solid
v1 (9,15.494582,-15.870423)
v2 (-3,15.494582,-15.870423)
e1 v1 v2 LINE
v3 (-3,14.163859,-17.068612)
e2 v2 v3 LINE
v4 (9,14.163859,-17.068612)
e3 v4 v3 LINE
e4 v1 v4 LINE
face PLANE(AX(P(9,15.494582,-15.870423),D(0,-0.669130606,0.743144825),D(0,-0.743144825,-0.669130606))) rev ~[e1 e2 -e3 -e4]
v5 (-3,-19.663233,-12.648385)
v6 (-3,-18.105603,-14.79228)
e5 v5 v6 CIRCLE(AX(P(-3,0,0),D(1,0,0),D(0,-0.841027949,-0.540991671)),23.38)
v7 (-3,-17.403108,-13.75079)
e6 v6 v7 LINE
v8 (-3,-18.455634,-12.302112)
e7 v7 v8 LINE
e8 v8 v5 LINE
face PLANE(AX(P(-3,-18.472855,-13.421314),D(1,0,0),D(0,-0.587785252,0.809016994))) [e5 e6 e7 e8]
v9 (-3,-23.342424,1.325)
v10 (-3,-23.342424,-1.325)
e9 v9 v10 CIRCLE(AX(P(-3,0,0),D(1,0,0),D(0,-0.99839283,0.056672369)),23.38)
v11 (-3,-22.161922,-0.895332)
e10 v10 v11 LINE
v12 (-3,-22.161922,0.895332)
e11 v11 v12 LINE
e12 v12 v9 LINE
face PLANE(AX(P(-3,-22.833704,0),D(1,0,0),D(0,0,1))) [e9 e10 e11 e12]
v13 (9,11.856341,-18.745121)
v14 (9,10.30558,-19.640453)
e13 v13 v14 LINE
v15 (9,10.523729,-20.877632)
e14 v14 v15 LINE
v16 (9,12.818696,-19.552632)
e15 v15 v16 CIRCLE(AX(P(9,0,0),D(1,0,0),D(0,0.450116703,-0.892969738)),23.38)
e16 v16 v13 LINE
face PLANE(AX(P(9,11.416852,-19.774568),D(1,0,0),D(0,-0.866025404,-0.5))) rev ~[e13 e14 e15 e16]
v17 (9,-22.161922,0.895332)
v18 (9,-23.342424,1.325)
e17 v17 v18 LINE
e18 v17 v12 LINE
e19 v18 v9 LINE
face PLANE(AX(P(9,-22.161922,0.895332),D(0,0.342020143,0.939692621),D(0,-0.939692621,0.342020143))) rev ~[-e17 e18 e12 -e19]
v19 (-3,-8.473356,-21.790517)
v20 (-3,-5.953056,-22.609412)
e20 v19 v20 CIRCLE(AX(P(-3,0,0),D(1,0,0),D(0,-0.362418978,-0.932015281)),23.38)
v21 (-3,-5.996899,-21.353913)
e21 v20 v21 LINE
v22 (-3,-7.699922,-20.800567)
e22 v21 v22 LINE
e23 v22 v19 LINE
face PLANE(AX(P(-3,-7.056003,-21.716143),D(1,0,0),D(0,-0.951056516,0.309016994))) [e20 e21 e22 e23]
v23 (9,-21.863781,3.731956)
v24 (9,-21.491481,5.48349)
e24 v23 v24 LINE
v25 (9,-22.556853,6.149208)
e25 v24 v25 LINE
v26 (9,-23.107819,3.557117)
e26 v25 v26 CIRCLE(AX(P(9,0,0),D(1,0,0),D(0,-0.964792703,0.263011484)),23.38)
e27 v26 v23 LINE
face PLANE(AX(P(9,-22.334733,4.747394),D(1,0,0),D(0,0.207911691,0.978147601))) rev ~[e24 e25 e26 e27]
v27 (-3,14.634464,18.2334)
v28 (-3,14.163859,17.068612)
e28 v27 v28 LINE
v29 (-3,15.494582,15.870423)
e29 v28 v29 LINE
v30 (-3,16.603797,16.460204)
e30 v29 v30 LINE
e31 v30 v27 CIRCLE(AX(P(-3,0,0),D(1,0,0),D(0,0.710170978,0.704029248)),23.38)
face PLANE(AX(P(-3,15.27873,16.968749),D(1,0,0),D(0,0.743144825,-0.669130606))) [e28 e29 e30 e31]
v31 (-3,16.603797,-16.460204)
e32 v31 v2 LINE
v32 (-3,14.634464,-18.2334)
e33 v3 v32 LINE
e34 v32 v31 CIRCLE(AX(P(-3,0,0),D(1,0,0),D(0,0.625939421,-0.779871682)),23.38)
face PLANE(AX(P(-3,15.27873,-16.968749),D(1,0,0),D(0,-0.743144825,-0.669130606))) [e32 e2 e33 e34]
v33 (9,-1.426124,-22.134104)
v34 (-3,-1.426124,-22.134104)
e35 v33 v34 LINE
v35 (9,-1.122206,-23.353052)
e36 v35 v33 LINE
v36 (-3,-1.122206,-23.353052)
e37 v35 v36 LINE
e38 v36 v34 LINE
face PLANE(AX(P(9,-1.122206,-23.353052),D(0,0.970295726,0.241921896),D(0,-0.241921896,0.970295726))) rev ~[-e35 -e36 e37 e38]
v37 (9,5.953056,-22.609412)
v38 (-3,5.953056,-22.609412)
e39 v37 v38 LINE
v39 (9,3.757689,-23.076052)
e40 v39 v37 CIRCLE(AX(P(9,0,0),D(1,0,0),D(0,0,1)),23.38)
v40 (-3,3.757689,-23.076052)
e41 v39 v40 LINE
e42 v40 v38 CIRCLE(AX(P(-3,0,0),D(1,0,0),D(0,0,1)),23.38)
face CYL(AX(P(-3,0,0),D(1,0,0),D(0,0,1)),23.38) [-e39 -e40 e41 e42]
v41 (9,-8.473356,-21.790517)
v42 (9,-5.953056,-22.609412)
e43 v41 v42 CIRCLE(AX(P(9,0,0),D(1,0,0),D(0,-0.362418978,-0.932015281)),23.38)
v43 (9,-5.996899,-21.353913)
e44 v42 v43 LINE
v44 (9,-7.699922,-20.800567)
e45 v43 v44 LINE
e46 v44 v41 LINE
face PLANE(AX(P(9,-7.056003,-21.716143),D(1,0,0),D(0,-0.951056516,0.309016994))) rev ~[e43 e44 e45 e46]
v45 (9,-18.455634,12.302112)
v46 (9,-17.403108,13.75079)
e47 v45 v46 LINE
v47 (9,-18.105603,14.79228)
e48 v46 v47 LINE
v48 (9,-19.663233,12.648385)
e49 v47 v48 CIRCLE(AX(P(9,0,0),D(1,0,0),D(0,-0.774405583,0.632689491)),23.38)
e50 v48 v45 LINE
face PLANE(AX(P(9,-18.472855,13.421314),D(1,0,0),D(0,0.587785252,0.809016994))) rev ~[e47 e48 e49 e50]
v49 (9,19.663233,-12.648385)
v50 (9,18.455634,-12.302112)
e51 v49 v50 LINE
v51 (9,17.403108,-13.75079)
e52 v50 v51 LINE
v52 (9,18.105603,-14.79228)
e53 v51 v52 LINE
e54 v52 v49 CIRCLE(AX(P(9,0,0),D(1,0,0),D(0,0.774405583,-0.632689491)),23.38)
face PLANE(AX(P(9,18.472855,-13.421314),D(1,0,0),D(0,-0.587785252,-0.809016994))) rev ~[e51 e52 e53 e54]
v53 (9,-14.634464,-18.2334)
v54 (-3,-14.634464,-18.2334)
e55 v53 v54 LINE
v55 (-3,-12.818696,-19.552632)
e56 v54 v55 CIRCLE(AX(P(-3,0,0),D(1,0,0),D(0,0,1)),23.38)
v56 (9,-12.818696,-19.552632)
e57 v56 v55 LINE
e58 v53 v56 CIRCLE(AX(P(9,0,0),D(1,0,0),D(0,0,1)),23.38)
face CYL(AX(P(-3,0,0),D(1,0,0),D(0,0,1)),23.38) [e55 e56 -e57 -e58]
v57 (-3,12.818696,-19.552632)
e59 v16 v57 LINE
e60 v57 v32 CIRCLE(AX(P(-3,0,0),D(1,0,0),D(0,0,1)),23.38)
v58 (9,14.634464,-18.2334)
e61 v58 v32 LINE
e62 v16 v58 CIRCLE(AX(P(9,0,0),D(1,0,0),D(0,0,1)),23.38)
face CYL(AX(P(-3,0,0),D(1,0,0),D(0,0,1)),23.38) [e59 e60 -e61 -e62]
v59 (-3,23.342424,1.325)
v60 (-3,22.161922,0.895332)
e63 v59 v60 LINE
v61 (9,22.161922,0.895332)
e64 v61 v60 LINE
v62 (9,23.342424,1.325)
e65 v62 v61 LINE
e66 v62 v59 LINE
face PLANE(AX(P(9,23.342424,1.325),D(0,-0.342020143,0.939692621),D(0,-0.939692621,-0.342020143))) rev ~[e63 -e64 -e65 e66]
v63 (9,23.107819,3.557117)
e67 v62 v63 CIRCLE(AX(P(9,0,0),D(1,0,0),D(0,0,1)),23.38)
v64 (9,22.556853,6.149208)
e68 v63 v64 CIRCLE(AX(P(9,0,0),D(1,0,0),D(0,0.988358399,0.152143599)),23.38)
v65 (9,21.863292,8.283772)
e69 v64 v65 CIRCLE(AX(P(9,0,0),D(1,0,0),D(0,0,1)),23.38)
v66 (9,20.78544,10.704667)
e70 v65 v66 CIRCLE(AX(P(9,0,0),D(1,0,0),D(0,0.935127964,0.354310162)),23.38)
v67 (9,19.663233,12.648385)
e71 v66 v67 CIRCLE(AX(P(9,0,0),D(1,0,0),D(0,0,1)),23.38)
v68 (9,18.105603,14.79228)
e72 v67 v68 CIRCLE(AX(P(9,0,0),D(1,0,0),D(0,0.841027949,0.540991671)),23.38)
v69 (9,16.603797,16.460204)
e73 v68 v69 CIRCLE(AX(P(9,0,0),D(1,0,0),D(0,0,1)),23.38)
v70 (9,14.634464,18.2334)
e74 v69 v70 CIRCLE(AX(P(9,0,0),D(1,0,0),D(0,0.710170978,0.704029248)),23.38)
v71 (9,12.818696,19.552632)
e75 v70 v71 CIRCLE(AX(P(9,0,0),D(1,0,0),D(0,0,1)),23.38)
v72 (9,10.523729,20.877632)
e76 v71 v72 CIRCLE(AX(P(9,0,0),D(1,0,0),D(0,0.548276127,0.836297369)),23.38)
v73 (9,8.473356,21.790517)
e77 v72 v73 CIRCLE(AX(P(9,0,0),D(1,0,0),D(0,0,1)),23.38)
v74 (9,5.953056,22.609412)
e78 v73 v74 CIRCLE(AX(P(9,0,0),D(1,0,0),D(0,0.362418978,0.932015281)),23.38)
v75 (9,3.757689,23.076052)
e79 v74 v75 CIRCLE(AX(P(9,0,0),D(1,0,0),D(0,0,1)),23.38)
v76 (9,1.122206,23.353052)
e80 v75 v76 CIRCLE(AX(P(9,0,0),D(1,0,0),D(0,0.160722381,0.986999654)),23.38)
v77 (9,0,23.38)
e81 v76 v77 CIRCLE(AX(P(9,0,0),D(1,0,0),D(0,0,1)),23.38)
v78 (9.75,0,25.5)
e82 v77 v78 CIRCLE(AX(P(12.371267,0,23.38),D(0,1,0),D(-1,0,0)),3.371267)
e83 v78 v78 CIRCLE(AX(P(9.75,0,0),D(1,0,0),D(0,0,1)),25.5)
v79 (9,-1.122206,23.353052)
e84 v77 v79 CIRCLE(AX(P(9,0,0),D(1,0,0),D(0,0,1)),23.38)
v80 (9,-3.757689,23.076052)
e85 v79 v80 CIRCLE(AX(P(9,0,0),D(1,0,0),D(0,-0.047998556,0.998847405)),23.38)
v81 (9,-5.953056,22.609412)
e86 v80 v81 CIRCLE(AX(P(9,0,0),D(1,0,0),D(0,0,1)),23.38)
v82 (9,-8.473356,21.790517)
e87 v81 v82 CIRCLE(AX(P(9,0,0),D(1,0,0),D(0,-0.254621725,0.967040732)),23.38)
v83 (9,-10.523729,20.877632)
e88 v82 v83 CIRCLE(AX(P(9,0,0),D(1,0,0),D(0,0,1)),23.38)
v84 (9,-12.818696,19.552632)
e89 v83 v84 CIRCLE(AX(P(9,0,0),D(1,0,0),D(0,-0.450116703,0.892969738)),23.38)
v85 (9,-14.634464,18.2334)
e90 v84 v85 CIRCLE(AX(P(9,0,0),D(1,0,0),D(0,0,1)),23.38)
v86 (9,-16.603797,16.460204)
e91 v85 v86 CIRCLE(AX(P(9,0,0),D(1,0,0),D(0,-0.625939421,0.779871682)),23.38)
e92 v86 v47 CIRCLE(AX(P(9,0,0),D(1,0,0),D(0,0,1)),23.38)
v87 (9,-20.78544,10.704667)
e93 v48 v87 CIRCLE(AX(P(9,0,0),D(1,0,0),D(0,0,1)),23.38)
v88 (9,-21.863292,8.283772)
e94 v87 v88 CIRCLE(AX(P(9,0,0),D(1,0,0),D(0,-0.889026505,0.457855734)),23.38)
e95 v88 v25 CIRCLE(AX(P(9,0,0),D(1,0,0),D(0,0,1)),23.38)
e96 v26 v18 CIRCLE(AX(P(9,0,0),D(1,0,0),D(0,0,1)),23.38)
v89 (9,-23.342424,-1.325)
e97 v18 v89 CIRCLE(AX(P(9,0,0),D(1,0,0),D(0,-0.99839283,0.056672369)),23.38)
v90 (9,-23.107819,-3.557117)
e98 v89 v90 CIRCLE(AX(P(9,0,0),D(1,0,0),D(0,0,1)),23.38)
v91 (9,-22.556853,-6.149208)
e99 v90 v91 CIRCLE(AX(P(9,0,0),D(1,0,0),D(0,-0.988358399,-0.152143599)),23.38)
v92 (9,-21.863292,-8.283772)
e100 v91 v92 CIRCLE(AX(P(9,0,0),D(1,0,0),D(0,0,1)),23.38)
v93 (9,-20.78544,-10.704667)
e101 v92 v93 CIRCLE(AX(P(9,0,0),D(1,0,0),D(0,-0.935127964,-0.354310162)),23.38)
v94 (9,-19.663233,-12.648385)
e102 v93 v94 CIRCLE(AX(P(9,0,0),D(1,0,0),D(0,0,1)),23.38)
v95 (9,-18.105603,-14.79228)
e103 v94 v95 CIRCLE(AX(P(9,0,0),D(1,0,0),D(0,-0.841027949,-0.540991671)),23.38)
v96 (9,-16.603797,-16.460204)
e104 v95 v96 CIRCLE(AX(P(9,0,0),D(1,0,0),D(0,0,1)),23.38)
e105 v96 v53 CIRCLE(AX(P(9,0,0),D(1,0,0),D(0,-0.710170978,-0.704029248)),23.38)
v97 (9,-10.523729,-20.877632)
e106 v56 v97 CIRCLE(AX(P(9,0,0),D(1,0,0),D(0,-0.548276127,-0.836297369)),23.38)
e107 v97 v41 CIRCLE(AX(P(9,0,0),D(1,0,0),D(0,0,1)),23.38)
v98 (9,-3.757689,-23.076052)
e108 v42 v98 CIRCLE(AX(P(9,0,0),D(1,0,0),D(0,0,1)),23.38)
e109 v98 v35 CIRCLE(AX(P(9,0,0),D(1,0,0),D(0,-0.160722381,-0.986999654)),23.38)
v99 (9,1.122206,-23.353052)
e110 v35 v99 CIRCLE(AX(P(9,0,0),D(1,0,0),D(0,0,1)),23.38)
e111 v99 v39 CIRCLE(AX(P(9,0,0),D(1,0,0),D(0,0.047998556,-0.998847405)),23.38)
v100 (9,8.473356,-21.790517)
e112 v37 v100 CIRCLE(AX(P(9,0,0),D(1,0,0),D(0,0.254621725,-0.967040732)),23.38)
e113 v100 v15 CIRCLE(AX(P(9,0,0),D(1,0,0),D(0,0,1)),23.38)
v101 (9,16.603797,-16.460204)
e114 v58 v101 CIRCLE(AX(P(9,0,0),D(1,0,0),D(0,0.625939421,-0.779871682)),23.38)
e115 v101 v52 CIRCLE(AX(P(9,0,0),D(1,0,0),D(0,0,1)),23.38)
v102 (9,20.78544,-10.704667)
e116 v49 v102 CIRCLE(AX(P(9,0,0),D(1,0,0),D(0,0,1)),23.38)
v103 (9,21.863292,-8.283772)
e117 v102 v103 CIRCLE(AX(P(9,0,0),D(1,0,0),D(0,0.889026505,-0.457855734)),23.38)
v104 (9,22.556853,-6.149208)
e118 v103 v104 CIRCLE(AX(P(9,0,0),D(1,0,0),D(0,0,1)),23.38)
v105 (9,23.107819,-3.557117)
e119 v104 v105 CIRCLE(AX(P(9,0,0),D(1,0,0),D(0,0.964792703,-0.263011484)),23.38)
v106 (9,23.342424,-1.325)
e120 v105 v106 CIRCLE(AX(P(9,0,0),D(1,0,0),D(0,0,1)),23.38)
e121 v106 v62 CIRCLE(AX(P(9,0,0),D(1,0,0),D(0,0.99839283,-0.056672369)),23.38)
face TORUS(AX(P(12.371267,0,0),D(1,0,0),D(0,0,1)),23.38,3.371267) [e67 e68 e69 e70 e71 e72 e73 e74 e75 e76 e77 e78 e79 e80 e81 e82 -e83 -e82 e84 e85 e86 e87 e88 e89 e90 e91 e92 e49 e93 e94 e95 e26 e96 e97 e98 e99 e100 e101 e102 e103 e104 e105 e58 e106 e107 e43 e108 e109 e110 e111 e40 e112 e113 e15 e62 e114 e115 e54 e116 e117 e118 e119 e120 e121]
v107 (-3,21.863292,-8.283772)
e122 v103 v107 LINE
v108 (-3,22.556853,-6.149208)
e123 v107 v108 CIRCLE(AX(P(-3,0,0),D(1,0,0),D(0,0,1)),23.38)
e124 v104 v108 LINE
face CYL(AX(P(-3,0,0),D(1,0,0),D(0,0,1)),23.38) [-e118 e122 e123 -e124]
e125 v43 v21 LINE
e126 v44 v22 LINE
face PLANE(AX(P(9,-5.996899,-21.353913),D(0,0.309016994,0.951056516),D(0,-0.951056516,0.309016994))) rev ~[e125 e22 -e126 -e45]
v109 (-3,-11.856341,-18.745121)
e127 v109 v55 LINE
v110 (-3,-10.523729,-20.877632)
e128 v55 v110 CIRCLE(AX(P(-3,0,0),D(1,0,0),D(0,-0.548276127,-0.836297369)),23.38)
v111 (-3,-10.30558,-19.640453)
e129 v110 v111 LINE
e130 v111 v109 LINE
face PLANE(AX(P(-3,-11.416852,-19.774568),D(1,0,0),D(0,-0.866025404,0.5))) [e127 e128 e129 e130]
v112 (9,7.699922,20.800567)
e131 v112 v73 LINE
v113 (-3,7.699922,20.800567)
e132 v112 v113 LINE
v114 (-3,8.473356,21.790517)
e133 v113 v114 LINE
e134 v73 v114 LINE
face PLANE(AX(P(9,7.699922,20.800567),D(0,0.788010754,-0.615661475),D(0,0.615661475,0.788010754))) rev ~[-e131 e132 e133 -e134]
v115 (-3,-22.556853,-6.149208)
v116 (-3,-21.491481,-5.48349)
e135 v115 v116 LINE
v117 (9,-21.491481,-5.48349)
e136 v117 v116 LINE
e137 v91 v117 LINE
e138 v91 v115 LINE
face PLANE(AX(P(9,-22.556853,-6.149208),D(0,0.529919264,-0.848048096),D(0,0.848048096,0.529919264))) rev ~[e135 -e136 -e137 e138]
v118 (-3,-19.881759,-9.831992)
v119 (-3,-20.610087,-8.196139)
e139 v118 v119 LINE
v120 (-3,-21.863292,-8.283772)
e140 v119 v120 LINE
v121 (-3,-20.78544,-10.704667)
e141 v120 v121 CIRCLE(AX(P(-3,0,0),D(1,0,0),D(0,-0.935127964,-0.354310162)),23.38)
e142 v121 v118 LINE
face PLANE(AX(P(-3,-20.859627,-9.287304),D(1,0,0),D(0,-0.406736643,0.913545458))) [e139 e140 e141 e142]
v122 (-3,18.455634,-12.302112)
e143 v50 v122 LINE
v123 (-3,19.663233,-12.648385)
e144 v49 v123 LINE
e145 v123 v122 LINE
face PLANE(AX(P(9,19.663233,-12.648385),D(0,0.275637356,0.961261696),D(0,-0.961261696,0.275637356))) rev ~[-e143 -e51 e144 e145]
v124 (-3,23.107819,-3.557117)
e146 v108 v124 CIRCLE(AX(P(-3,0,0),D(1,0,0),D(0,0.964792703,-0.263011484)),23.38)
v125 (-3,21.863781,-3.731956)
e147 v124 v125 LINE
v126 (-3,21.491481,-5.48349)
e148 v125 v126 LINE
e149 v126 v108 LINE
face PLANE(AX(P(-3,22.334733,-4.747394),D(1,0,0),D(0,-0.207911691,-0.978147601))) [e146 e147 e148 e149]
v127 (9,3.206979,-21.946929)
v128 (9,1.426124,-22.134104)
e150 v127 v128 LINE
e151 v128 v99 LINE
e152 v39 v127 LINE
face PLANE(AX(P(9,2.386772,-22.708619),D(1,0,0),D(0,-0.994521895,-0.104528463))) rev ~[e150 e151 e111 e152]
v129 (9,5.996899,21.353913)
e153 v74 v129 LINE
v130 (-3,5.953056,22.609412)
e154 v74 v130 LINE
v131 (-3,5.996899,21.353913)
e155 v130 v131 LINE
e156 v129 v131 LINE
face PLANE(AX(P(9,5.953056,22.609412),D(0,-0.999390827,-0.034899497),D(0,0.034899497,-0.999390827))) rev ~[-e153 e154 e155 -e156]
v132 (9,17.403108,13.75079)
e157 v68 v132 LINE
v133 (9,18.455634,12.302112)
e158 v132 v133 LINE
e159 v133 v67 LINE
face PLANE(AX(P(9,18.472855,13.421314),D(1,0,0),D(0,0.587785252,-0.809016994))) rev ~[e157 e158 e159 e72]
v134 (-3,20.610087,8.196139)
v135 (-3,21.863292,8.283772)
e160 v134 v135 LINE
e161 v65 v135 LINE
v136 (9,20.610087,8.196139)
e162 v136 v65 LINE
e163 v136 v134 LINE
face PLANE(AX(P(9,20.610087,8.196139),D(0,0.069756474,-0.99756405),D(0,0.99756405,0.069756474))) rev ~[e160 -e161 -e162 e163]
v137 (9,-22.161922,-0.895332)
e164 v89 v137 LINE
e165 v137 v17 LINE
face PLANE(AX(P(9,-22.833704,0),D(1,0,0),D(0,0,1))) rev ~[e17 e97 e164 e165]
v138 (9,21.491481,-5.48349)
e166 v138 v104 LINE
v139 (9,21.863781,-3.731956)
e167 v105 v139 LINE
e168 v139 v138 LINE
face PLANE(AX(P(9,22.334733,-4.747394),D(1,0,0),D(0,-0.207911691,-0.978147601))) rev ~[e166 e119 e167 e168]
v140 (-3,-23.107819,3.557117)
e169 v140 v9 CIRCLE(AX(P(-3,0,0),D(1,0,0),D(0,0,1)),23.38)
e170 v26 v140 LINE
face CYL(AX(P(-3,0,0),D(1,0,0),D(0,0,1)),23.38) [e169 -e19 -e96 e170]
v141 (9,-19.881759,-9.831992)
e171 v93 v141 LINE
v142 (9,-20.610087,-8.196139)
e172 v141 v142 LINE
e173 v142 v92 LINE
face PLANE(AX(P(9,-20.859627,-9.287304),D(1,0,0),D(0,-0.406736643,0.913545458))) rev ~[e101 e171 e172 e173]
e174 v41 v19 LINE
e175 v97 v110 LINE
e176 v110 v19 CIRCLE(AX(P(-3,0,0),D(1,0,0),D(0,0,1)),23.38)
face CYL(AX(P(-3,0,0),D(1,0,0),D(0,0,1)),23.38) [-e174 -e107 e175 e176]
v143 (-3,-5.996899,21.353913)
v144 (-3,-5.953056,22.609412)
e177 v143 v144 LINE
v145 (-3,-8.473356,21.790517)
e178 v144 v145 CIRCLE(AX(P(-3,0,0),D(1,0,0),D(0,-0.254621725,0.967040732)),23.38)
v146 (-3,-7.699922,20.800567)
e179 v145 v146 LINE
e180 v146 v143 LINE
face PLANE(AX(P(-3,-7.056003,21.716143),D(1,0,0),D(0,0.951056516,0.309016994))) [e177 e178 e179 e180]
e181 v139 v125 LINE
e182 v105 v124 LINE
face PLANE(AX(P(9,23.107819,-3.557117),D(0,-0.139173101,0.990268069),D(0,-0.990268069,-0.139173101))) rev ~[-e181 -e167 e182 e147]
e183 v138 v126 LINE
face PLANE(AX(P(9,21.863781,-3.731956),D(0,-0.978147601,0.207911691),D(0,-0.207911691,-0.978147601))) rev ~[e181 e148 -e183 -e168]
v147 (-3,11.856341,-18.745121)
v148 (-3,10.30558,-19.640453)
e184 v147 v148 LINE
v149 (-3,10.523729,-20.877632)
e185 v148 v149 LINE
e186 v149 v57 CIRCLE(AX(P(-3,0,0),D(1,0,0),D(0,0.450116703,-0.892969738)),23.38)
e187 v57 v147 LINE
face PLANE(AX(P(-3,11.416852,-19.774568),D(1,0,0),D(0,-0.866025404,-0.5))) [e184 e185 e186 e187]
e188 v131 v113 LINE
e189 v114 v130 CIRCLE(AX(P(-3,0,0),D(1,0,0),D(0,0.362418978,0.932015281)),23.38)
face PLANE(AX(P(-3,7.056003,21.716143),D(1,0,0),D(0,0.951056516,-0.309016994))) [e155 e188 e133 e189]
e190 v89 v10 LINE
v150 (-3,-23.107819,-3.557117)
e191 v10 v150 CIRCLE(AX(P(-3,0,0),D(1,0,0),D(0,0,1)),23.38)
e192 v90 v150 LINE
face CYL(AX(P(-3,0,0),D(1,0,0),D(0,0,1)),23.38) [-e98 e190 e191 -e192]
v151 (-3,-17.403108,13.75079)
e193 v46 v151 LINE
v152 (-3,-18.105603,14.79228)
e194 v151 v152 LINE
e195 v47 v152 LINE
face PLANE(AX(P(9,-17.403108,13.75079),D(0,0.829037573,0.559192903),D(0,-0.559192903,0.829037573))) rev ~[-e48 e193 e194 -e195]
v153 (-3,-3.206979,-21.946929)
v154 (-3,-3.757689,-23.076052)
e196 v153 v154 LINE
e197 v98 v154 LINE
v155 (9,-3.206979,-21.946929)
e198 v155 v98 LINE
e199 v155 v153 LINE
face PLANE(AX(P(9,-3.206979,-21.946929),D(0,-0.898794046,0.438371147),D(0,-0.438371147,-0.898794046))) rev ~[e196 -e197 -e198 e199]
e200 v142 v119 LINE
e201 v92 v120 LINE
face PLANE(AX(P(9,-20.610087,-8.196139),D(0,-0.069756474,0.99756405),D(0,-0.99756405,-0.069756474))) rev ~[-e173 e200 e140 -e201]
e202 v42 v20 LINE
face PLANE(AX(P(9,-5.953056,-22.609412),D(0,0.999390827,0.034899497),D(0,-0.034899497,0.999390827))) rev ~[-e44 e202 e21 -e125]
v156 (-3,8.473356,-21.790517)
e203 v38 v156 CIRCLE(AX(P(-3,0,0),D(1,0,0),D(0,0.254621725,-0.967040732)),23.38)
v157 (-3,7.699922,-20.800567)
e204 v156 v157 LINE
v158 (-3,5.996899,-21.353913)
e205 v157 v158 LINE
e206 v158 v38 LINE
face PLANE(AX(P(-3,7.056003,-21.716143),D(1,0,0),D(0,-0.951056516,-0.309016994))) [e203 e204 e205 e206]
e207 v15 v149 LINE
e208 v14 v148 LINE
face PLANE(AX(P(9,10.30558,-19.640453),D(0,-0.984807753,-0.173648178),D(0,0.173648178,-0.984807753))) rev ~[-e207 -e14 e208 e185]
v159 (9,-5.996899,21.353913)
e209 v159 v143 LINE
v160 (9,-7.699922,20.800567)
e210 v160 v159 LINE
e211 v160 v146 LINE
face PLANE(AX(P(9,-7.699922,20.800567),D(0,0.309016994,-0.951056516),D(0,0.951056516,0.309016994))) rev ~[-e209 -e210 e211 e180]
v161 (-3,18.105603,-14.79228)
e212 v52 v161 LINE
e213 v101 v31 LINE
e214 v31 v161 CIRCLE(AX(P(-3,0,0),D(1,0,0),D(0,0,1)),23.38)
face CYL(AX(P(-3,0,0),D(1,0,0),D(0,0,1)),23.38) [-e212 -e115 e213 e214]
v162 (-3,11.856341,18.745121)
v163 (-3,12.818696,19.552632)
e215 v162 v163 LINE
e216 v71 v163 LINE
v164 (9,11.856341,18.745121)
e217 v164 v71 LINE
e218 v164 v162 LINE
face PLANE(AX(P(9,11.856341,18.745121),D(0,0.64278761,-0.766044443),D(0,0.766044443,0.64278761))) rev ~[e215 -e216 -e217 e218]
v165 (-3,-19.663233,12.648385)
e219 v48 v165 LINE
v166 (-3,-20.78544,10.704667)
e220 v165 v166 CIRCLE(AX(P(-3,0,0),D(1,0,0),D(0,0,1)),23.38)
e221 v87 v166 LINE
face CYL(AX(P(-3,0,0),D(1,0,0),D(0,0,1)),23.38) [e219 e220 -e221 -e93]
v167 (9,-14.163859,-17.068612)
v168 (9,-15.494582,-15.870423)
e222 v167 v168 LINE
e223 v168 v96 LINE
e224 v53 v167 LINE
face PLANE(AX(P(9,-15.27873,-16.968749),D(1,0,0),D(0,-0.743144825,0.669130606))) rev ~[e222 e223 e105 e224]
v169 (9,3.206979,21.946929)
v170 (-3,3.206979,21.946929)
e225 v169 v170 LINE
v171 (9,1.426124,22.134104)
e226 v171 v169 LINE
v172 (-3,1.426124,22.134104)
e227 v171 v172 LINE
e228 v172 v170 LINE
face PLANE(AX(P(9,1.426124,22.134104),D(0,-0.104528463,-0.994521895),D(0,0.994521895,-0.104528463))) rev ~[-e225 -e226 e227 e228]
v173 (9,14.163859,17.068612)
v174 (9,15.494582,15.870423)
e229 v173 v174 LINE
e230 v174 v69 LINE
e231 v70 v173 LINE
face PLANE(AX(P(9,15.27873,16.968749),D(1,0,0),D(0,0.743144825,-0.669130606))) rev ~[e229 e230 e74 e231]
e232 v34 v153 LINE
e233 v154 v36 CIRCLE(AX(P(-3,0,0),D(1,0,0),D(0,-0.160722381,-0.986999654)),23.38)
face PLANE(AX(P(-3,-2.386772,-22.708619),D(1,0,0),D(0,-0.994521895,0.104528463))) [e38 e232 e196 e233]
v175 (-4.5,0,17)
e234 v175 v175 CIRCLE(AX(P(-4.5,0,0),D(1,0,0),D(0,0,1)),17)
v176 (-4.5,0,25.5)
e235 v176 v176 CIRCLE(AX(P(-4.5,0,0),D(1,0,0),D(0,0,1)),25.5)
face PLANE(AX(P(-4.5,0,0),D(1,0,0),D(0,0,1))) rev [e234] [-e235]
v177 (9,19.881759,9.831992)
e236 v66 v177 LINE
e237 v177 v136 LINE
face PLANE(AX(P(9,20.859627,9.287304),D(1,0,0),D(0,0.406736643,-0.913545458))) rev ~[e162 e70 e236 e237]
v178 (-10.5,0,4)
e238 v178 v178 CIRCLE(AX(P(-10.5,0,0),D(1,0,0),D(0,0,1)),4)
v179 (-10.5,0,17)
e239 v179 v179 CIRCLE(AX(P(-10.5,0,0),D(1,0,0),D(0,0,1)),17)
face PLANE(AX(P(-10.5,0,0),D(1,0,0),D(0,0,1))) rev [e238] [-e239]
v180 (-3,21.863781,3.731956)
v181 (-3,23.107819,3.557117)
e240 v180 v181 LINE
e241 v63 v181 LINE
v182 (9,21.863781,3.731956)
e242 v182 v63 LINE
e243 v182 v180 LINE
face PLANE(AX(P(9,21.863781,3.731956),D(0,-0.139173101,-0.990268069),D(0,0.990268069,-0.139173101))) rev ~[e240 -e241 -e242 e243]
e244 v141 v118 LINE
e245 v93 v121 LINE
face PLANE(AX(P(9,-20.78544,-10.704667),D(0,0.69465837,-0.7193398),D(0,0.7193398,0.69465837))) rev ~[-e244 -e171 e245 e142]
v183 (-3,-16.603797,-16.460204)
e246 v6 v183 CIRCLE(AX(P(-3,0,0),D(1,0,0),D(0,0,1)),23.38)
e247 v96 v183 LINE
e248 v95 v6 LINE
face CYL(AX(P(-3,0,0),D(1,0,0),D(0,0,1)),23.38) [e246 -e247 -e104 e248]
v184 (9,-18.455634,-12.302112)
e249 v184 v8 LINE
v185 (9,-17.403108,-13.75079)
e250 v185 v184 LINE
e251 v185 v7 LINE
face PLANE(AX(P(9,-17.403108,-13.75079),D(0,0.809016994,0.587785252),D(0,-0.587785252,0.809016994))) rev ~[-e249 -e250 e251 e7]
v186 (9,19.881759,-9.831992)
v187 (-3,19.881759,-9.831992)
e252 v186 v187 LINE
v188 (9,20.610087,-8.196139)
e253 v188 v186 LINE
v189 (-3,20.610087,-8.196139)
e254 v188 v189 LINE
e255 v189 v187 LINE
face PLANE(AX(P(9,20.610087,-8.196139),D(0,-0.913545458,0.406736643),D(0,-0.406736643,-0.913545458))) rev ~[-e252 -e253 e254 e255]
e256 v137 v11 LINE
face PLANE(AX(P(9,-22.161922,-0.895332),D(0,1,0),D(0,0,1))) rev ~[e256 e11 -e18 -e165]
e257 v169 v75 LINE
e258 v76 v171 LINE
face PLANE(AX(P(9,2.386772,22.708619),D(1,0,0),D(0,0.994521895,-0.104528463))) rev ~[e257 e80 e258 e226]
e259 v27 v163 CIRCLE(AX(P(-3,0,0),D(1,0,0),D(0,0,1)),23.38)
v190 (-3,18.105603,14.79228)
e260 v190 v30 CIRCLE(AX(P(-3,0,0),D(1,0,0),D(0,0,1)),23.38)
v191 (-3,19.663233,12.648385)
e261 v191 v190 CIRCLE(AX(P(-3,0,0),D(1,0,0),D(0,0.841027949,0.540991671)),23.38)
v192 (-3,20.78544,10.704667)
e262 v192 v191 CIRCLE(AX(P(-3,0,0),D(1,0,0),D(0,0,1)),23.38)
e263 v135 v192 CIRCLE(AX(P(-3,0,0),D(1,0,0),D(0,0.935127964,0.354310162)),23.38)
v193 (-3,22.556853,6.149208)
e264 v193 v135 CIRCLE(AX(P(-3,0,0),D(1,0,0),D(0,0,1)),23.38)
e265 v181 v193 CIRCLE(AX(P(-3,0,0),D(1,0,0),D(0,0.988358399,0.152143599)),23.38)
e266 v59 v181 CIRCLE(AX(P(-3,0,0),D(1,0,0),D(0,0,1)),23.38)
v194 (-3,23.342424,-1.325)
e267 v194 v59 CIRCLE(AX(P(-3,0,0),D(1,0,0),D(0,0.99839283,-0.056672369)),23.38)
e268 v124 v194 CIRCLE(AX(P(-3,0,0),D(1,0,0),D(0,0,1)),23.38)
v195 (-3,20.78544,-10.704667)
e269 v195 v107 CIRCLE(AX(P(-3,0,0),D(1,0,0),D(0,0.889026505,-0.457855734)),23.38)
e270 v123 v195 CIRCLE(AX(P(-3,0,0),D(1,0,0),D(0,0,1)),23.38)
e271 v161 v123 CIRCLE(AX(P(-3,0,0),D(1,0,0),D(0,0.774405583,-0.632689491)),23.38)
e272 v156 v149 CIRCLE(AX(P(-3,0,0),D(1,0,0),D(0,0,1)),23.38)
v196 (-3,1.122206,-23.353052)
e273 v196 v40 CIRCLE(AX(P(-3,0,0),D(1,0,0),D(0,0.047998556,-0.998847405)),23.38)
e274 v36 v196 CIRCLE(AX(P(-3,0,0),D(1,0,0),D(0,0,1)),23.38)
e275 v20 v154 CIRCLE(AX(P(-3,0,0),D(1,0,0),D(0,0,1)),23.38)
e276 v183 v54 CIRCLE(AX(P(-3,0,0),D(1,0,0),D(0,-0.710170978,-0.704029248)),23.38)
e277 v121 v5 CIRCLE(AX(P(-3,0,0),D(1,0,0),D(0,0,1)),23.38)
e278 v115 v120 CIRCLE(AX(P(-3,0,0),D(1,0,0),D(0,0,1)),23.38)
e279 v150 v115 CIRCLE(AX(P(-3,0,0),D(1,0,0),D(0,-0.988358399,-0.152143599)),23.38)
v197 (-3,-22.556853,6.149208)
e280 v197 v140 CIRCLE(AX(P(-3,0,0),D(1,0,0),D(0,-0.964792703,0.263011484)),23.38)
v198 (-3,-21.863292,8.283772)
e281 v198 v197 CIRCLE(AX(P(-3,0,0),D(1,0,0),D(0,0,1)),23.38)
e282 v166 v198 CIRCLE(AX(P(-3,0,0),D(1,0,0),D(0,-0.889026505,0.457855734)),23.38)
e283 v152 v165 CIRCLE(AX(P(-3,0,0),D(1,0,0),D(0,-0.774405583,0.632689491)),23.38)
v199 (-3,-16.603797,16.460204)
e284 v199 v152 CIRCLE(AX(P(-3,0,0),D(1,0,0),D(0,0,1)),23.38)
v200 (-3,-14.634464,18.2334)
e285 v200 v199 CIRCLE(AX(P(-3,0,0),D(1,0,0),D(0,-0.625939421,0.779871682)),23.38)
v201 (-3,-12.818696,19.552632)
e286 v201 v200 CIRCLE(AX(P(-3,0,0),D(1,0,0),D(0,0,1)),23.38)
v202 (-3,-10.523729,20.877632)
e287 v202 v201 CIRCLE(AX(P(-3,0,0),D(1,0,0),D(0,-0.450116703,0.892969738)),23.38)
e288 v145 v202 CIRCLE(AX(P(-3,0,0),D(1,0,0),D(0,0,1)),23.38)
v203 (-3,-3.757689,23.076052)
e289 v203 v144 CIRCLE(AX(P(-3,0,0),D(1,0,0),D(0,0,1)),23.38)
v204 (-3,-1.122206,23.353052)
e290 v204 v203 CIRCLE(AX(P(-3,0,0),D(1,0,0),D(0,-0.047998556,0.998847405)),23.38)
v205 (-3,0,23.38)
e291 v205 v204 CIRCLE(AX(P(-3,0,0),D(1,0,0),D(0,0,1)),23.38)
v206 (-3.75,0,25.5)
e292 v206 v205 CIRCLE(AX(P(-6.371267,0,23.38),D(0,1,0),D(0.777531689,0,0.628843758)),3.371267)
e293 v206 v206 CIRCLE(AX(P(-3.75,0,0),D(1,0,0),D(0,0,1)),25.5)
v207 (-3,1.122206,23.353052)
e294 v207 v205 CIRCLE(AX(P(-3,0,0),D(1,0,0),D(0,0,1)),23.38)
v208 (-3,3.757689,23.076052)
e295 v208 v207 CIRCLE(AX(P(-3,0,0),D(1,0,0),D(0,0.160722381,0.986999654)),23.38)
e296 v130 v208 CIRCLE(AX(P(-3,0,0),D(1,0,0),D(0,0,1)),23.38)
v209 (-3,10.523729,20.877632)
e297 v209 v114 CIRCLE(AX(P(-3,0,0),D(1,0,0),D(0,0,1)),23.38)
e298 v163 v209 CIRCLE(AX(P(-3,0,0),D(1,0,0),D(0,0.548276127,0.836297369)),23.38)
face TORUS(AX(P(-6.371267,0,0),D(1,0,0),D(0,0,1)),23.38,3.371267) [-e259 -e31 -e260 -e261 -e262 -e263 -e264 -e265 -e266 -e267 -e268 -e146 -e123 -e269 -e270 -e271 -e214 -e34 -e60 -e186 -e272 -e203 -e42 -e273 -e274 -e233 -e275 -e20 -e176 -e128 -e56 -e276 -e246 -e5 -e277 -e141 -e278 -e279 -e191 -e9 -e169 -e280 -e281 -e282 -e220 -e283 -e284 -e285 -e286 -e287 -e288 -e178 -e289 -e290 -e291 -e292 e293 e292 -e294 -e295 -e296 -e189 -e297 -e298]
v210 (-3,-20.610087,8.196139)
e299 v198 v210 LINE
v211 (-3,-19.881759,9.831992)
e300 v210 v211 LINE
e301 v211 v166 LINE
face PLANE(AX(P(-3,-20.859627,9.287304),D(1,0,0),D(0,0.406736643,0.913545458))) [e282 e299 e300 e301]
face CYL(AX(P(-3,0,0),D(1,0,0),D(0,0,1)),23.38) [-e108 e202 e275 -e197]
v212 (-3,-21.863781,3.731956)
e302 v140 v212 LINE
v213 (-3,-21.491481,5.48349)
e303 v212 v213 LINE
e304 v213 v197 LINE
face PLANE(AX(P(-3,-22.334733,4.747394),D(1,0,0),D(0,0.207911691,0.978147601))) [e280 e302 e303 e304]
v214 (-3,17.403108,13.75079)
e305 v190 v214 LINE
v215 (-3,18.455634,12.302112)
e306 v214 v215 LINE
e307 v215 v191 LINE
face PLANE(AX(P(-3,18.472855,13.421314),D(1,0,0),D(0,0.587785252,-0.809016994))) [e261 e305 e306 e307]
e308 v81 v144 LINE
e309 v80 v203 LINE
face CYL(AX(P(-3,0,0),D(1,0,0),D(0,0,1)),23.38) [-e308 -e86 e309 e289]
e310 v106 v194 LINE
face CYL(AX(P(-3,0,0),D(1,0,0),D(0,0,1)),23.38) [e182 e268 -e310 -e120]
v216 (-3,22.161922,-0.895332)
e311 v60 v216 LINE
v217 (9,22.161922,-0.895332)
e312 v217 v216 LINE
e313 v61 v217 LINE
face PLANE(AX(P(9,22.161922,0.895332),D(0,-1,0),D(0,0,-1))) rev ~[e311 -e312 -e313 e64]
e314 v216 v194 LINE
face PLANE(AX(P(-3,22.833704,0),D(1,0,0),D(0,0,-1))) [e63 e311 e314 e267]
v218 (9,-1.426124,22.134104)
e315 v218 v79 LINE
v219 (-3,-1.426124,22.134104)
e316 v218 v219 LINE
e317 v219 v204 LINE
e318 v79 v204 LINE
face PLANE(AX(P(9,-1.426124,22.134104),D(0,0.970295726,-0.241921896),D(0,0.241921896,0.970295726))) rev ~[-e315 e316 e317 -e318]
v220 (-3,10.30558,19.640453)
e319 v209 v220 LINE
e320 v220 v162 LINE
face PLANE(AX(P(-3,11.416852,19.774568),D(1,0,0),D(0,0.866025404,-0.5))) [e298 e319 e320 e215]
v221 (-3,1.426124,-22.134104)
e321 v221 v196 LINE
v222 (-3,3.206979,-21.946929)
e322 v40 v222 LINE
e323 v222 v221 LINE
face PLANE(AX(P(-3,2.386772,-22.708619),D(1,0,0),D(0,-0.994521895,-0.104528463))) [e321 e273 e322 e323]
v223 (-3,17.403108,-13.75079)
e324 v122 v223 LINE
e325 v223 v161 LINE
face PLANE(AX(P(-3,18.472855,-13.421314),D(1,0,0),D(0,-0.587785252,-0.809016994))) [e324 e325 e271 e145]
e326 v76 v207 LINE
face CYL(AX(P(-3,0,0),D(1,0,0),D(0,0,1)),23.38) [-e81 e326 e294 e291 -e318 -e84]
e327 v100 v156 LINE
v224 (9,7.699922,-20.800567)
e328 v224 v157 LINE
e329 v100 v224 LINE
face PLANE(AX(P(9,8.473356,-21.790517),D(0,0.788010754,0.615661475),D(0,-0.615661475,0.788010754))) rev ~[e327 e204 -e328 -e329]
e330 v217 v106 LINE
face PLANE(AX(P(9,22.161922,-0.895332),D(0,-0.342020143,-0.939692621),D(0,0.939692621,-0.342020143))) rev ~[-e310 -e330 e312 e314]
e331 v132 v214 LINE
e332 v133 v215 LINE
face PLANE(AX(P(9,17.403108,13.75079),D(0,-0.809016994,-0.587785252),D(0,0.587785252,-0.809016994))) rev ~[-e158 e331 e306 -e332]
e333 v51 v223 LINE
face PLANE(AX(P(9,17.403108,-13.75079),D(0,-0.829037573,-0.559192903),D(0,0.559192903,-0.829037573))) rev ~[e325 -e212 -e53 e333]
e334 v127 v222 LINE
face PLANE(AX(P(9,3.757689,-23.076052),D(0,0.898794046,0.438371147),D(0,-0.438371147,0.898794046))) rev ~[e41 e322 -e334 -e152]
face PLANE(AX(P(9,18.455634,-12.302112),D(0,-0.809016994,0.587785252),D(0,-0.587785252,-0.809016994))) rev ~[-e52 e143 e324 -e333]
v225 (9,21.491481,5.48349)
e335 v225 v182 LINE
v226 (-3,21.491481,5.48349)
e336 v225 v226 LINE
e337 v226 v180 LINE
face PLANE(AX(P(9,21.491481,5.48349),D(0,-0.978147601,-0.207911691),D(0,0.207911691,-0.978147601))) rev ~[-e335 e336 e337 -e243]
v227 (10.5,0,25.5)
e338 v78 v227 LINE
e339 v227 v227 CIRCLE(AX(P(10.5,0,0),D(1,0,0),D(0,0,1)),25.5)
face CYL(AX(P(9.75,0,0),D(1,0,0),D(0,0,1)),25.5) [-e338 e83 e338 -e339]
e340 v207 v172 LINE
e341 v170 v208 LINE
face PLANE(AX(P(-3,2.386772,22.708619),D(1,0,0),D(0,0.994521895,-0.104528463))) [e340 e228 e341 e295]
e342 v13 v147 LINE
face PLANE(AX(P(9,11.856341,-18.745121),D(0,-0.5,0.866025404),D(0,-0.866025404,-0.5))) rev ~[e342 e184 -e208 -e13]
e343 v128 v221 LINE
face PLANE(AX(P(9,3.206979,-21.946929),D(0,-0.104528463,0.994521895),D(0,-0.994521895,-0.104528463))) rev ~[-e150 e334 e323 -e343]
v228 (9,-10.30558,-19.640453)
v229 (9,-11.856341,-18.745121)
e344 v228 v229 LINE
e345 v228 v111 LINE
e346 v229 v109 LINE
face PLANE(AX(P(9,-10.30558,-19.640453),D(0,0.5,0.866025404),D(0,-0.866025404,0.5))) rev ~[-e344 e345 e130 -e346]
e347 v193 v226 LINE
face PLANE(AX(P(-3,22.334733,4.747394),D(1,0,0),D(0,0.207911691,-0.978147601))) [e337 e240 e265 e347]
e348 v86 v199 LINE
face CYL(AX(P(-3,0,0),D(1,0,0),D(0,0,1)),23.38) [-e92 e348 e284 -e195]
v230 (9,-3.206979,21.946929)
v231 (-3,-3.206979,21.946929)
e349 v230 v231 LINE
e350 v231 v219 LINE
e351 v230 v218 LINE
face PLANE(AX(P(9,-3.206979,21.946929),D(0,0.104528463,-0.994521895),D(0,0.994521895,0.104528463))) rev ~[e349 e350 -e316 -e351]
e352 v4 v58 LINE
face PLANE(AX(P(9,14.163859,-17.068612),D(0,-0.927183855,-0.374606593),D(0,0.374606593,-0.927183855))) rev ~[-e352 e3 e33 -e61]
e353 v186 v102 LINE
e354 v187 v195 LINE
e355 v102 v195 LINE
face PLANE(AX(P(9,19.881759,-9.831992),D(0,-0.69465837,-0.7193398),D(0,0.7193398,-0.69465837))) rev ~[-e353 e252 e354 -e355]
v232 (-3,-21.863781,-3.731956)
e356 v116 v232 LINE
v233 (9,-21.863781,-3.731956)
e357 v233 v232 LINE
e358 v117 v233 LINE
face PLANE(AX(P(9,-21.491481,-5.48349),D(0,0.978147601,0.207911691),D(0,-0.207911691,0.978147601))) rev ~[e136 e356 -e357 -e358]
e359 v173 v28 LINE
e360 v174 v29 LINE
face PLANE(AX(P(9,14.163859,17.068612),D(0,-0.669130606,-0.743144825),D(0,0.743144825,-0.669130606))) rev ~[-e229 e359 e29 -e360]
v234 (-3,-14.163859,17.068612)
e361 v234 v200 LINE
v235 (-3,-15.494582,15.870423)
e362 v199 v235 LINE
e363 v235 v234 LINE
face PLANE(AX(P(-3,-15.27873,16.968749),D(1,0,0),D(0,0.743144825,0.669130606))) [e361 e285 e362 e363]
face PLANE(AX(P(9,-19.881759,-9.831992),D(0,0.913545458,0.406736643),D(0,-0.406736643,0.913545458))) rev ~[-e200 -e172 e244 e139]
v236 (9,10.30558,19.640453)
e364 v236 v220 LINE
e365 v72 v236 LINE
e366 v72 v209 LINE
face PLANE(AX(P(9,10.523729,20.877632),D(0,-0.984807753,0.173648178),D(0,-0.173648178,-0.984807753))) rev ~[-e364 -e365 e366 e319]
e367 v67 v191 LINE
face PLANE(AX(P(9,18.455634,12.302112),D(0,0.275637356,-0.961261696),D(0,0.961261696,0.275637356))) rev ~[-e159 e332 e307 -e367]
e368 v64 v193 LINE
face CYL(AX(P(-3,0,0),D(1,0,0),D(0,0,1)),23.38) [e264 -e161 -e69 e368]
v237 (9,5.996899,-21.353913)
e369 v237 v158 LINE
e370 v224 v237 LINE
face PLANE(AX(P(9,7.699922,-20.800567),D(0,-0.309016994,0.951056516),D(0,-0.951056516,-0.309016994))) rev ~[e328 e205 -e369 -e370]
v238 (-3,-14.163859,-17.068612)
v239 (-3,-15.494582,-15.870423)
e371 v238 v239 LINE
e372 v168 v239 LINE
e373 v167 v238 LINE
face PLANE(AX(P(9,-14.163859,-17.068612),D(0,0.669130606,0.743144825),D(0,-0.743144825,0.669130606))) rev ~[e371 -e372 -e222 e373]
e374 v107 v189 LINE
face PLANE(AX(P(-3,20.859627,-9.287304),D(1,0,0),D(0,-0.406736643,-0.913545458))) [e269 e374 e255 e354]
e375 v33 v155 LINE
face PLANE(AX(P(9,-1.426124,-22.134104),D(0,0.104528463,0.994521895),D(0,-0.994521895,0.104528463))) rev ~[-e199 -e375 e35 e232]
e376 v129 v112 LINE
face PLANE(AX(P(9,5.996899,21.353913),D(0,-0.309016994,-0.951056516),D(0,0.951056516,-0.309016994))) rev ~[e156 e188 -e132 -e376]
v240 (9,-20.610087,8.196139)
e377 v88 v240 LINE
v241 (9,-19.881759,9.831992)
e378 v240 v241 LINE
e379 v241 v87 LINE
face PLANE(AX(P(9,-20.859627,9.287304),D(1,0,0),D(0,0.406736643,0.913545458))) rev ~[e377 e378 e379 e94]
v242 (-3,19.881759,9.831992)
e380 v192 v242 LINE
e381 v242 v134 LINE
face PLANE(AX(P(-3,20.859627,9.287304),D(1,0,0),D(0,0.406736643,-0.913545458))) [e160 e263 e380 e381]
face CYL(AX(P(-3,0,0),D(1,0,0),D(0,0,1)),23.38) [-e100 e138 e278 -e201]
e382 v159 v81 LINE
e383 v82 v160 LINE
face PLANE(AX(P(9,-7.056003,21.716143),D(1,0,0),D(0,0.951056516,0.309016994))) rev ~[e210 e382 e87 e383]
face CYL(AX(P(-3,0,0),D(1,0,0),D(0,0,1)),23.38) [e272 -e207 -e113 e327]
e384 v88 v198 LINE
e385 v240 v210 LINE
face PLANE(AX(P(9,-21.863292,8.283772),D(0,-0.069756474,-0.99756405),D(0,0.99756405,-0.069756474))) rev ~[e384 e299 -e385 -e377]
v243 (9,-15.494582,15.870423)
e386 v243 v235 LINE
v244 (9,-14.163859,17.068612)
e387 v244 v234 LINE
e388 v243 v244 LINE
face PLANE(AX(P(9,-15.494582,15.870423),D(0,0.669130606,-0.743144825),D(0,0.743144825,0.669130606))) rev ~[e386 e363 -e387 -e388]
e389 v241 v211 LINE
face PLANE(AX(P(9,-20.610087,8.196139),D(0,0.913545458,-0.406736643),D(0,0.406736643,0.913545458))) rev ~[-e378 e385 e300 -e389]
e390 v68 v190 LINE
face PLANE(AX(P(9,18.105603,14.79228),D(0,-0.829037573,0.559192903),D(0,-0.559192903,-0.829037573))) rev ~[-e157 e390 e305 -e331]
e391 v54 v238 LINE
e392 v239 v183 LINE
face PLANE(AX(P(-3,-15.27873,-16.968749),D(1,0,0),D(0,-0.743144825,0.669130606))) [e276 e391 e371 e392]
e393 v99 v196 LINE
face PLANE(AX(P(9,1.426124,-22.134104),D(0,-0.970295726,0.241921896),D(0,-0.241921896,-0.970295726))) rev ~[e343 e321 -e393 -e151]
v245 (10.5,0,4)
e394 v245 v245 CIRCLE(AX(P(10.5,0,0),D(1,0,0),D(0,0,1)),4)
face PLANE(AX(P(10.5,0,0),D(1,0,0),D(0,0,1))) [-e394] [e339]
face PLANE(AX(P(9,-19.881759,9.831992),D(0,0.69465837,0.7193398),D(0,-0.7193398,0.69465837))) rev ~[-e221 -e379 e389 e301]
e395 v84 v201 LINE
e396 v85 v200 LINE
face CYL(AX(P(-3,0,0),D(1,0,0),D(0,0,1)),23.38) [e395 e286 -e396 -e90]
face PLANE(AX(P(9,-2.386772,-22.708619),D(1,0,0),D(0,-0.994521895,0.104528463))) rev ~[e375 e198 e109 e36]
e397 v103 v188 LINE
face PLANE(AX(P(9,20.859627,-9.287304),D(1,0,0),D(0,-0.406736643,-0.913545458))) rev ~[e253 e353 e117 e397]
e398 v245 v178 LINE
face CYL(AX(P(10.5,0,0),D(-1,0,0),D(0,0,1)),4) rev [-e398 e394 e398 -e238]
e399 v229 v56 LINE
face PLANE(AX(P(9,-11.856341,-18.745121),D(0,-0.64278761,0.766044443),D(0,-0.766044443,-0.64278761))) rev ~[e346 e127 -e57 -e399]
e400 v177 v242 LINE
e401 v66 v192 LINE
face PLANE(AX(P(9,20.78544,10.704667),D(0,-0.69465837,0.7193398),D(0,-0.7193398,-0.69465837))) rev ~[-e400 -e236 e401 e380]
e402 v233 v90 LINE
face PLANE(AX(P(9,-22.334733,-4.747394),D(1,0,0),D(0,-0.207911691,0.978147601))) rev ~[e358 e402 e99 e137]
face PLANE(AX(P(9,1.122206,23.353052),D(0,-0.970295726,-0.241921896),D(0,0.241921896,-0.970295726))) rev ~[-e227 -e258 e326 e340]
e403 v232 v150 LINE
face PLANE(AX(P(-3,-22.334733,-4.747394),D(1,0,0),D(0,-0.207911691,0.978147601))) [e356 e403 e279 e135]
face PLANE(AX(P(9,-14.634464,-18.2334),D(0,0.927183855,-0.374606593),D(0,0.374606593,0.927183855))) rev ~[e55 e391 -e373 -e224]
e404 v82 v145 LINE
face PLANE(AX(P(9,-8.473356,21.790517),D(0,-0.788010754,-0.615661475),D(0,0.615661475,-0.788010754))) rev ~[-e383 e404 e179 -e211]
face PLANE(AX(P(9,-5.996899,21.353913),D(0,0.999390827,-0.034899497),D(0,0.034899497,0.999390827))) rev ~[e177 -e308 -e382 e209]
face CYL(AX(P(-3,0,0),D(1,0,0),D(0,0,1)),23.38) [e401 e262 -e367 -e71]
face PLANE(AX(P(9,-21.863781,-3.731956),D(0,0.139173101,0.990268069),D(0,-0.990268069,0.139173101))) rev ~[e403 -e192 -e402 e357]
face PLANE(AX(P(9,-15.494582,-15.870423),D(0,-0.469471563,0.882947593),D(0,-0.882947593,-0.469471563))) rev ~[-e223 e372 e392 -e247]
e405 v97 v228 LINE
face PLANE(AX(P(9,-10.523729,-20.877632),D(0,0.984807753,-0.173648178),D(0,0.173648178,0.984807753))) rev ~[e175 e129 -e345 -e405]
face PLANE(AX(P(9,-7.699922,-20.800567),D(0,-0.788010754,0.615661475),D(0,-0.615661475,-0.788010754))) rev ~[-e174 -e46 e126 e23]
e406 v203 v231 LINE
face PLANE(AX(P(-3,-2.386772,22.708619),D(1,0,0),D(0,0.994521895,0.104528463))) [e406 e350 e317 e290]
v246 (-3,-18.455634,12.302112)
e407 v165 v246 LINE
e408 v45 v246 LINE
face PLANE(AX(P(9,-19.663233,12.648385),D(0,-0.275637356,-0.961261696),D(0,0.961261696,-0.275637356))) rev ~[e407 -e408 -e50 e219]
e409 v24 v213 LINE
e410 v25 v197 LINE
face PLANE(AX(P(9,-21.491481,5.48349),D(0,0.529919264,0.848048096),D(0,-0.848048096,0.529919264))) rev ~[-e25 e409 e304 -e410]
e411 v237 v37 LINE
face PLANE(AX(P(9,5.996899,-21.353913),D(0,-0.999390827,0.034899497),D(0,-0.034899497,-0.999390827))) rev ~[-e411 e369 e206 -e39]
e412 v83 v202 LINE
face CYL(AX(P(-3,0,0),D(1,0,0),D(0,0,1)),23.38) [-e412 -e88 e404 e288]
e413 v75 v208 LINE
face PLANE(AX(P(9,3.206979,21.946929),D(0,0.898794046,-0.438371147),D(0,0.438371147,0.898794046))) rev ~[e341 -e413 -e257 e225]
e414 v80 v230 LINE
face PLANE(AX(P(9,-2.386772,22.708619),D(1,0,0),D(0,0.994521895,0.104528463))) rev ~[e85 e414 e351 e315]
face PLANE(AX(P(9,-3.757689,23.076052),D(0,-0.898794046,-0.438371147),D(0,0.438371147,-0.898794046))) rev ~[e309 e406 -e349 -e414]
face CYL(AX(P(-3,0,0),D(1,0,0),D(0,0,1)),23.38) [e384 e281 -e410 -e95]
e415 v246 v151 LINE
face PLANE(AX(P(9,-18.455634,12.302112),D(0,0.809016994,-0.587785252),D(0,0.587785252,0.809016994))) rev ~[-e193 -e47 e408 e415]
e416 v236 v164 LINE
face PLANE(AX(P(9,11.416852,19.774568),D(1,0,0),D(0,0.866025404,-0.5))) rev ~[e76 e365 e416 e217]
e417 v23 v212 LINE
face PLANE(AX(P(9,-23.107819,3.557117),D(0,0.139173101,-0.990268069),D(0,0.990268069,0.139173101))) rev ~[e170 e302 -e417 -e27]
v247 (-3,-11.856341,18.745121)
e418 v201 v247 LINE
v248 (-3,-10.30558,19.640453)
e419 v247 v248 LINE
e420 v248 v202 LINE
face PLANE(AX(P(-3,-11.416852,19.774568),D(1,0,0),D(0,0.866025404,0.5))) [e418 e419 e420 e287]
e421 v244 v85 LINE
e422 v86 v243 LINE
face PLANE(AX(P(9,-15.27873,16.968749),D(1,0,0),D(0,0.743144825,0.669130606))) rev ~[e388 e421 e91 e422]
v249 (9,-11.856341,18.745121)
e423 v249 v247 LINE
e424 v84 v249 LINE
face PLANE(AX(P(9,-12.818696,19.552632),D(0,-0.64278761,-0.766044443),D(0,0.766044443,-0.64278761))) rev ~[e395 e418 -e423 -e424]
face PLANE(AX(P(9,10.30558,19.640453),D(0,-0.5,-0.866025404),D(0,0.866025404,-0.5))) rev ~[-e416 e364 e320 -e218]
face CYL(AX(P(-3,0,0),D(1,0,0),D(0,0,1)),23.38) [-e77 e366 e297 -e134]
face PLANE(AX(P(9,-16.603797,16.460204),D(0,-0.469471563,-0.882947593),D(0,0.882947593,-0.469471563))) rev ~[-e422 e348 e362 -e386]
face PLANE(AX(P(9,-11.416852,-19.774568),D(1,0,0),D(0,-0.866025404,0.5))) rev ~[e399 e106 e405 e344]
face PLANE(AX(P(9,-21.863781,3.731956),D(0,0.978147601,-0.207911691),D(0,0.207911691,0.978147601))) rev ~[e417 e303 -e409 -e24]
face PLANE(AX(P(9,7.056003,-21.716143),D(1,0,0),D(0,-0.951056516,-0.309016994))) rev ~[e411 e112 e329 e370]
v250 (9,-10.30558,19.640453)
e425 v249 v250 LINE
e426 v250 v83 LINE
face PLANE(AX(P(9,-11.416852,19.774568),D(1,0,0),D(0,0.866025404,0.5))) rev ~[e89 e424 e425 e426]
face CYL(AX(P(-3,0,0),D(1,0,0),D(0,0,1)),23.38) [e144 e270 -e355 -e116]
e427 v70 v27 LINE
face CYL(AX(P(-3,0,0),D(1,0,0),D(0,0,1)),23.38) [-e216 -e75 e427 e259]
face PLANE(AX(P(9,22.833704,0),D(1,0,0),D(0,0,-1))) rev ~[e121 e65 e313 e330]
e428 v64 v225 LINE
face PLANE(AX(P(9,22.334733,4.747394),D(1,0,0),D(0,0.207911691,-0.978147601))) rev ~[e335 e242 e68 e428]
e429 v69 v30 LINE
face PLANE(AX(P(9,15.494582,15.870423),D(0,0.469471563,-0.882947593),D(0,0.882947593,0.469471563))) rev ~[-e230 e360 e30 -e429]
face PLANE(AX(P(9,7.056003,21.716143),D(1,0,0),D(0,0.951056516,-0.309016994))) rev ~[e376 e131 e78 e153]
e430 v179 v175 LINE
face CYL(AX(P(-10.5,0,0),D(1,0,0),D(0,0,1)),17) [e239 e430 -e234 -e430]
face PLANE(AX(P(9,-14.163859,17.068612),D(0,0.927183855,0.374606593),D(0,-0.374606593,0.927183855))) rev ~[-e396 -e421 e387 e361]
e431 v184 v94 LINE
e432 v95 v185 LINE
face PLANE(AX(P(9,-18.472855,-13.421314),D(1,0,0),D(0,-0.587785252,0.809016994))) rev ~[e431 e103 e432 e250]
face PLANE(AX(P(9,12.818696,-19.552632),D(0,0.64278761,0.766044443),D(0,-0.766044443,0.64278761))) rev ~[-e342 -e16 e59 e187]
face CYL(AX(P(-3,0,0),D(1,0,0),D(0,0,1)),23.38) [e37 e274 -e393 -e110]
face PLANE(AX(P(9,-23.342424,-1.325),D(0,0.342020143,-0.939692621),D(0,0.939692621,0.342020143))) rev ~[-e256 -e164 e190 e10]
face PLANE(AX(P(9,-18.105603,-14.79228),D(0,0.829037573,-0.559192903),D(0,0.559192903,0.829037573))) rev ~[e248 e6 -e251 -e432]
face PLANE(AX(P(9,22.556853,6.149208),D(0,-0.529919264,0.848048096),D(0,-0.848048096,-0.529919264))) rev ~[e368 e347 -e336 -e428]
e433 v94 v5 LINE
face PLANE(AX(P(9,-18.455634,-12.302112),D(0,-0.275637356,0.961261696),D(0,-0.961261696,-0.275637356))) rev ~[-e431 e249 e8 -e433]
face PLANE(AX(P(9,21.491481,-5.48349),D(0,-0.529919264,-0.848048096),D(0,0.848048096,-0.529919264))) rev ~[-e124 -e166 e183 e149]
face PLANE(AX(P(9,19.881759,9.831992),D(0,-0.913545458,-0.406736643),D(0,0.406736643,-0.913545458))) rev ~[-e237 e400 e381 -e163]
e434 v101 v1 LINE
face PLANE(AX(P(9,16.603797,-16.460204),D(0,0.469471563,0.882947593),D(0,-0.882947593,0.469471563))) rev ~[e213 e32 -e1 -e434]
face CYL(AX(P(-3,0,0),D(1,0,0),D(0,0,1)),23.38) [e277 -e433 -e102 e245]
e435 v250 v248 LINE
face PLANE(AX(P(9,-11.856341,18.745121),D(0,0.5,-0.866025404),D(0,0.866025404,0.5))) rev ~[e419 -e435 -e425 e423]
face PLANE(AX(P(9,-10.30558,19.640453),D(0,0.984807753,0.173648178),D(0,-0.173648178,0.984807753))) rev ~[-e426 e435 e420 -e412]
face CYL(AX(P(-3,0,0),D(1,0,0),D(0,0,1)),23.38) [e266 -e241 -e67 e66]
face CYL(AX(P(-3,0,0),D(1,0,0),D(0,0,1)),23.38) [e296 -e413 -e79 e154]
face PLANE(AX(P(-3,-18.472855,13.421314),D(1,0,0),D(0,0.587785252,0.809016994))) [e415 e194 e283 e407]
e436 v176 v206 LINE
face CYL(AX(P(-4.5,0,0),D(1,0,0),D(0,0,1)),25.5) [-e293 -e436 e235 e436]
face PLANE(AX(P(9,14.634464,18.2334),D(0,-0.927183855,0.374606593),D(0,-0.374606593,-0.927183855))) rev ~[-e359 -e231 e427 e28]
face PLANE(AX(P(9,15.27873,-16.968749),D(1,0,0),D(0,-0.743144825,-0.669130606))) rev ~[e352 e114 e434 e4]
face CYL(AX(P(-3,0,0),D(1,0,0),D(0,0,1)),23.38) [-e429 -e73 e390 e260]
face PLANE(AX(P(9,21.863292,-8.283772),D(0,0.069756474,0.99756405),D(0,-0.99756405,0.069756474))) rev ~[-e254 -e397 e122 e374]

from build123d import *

# Parameters (mm, degrees)
CUT_EXTRUDE1_START = 9
CUT_EXTRUDE1_DEPTH = 12
CIRPATTERN1_COUNT  = 30


with BuildPart() as part:
    # Sketch6 → Revolve1 (revolve)
    with BuildSketch(Plane.XY, mode=Mode.PRIVATE) as revolve1_sk:
        with BuildLine():
            Line((9.75, 25.5), (10.5, 25.5))
            Line((10.5, 25.5), (10.5, 4))
            Line((10.5, 4), (-10.5, 4))
            Line((-10.5, 4), (-10.5, 17))
            Line((-10.5, 17), (-4.5, 17))
            Line((-4.5, 17), (-4.5, 25.5))
            Line((-4.5, 25.5), (-3.75, 25.5))
            ThreePointArc((-3.75, 25.5), (-3.193025968, 24.504377606), (-3, 23.38))
            Line((-3, 23.38), (9, 23.38))
            ThreePointArc((9, 23.38), (9.193025968, 24.504377606), (9.75, 25.5))
        make_face()
    revolve(revolve1_sk.sketch.rotate(Axis((-10.5, 0, 0), (1, 0, 0)), 90), axis=Axis((-10.5, 0, 0), (1, 0, 0)))

    # Sketch3 → Cut-Extrude1 (cut)
    with BuildSketch(Plane(origin=(0, 0, 0), x_dir=(0, 0, -1), z_dir=(1, 0, 0)).offset(CUT_EXTRUDE1_START)):
        with BuildLine():
            Line((-1.325, 23.34242436), (-0.895332226, 22.161921853))
            Line((-0.895332226, 22.161921853), (0.895332226, 22.161921853))
            Line((0.895332226, 22.161921853), (1.325, 23.34242436))
            ThreePointArc((1.325, 23.34242436), (0, 23.38), (-1.325, 23.34242436))
        make_face()
    cut_extrude1 = extrude(amount=-CUT_EXTRUDE1_DEPTH, mode=Mode.SUBTRACT)

    # CirPattern1: Cut-Extrude1 ×30 about axis
    cirpattern1_axis = Axis((0, 0, 0), (1, 0, 0))
    for i in range(1, CIRPATTERN1_COUNT):
        add(cut_extrude1.rotate(cirpattern1_axis, i * 360 / CIRPATTERN1_COUNT), mode=Mode.SUBTRACT)


solid = part.part
